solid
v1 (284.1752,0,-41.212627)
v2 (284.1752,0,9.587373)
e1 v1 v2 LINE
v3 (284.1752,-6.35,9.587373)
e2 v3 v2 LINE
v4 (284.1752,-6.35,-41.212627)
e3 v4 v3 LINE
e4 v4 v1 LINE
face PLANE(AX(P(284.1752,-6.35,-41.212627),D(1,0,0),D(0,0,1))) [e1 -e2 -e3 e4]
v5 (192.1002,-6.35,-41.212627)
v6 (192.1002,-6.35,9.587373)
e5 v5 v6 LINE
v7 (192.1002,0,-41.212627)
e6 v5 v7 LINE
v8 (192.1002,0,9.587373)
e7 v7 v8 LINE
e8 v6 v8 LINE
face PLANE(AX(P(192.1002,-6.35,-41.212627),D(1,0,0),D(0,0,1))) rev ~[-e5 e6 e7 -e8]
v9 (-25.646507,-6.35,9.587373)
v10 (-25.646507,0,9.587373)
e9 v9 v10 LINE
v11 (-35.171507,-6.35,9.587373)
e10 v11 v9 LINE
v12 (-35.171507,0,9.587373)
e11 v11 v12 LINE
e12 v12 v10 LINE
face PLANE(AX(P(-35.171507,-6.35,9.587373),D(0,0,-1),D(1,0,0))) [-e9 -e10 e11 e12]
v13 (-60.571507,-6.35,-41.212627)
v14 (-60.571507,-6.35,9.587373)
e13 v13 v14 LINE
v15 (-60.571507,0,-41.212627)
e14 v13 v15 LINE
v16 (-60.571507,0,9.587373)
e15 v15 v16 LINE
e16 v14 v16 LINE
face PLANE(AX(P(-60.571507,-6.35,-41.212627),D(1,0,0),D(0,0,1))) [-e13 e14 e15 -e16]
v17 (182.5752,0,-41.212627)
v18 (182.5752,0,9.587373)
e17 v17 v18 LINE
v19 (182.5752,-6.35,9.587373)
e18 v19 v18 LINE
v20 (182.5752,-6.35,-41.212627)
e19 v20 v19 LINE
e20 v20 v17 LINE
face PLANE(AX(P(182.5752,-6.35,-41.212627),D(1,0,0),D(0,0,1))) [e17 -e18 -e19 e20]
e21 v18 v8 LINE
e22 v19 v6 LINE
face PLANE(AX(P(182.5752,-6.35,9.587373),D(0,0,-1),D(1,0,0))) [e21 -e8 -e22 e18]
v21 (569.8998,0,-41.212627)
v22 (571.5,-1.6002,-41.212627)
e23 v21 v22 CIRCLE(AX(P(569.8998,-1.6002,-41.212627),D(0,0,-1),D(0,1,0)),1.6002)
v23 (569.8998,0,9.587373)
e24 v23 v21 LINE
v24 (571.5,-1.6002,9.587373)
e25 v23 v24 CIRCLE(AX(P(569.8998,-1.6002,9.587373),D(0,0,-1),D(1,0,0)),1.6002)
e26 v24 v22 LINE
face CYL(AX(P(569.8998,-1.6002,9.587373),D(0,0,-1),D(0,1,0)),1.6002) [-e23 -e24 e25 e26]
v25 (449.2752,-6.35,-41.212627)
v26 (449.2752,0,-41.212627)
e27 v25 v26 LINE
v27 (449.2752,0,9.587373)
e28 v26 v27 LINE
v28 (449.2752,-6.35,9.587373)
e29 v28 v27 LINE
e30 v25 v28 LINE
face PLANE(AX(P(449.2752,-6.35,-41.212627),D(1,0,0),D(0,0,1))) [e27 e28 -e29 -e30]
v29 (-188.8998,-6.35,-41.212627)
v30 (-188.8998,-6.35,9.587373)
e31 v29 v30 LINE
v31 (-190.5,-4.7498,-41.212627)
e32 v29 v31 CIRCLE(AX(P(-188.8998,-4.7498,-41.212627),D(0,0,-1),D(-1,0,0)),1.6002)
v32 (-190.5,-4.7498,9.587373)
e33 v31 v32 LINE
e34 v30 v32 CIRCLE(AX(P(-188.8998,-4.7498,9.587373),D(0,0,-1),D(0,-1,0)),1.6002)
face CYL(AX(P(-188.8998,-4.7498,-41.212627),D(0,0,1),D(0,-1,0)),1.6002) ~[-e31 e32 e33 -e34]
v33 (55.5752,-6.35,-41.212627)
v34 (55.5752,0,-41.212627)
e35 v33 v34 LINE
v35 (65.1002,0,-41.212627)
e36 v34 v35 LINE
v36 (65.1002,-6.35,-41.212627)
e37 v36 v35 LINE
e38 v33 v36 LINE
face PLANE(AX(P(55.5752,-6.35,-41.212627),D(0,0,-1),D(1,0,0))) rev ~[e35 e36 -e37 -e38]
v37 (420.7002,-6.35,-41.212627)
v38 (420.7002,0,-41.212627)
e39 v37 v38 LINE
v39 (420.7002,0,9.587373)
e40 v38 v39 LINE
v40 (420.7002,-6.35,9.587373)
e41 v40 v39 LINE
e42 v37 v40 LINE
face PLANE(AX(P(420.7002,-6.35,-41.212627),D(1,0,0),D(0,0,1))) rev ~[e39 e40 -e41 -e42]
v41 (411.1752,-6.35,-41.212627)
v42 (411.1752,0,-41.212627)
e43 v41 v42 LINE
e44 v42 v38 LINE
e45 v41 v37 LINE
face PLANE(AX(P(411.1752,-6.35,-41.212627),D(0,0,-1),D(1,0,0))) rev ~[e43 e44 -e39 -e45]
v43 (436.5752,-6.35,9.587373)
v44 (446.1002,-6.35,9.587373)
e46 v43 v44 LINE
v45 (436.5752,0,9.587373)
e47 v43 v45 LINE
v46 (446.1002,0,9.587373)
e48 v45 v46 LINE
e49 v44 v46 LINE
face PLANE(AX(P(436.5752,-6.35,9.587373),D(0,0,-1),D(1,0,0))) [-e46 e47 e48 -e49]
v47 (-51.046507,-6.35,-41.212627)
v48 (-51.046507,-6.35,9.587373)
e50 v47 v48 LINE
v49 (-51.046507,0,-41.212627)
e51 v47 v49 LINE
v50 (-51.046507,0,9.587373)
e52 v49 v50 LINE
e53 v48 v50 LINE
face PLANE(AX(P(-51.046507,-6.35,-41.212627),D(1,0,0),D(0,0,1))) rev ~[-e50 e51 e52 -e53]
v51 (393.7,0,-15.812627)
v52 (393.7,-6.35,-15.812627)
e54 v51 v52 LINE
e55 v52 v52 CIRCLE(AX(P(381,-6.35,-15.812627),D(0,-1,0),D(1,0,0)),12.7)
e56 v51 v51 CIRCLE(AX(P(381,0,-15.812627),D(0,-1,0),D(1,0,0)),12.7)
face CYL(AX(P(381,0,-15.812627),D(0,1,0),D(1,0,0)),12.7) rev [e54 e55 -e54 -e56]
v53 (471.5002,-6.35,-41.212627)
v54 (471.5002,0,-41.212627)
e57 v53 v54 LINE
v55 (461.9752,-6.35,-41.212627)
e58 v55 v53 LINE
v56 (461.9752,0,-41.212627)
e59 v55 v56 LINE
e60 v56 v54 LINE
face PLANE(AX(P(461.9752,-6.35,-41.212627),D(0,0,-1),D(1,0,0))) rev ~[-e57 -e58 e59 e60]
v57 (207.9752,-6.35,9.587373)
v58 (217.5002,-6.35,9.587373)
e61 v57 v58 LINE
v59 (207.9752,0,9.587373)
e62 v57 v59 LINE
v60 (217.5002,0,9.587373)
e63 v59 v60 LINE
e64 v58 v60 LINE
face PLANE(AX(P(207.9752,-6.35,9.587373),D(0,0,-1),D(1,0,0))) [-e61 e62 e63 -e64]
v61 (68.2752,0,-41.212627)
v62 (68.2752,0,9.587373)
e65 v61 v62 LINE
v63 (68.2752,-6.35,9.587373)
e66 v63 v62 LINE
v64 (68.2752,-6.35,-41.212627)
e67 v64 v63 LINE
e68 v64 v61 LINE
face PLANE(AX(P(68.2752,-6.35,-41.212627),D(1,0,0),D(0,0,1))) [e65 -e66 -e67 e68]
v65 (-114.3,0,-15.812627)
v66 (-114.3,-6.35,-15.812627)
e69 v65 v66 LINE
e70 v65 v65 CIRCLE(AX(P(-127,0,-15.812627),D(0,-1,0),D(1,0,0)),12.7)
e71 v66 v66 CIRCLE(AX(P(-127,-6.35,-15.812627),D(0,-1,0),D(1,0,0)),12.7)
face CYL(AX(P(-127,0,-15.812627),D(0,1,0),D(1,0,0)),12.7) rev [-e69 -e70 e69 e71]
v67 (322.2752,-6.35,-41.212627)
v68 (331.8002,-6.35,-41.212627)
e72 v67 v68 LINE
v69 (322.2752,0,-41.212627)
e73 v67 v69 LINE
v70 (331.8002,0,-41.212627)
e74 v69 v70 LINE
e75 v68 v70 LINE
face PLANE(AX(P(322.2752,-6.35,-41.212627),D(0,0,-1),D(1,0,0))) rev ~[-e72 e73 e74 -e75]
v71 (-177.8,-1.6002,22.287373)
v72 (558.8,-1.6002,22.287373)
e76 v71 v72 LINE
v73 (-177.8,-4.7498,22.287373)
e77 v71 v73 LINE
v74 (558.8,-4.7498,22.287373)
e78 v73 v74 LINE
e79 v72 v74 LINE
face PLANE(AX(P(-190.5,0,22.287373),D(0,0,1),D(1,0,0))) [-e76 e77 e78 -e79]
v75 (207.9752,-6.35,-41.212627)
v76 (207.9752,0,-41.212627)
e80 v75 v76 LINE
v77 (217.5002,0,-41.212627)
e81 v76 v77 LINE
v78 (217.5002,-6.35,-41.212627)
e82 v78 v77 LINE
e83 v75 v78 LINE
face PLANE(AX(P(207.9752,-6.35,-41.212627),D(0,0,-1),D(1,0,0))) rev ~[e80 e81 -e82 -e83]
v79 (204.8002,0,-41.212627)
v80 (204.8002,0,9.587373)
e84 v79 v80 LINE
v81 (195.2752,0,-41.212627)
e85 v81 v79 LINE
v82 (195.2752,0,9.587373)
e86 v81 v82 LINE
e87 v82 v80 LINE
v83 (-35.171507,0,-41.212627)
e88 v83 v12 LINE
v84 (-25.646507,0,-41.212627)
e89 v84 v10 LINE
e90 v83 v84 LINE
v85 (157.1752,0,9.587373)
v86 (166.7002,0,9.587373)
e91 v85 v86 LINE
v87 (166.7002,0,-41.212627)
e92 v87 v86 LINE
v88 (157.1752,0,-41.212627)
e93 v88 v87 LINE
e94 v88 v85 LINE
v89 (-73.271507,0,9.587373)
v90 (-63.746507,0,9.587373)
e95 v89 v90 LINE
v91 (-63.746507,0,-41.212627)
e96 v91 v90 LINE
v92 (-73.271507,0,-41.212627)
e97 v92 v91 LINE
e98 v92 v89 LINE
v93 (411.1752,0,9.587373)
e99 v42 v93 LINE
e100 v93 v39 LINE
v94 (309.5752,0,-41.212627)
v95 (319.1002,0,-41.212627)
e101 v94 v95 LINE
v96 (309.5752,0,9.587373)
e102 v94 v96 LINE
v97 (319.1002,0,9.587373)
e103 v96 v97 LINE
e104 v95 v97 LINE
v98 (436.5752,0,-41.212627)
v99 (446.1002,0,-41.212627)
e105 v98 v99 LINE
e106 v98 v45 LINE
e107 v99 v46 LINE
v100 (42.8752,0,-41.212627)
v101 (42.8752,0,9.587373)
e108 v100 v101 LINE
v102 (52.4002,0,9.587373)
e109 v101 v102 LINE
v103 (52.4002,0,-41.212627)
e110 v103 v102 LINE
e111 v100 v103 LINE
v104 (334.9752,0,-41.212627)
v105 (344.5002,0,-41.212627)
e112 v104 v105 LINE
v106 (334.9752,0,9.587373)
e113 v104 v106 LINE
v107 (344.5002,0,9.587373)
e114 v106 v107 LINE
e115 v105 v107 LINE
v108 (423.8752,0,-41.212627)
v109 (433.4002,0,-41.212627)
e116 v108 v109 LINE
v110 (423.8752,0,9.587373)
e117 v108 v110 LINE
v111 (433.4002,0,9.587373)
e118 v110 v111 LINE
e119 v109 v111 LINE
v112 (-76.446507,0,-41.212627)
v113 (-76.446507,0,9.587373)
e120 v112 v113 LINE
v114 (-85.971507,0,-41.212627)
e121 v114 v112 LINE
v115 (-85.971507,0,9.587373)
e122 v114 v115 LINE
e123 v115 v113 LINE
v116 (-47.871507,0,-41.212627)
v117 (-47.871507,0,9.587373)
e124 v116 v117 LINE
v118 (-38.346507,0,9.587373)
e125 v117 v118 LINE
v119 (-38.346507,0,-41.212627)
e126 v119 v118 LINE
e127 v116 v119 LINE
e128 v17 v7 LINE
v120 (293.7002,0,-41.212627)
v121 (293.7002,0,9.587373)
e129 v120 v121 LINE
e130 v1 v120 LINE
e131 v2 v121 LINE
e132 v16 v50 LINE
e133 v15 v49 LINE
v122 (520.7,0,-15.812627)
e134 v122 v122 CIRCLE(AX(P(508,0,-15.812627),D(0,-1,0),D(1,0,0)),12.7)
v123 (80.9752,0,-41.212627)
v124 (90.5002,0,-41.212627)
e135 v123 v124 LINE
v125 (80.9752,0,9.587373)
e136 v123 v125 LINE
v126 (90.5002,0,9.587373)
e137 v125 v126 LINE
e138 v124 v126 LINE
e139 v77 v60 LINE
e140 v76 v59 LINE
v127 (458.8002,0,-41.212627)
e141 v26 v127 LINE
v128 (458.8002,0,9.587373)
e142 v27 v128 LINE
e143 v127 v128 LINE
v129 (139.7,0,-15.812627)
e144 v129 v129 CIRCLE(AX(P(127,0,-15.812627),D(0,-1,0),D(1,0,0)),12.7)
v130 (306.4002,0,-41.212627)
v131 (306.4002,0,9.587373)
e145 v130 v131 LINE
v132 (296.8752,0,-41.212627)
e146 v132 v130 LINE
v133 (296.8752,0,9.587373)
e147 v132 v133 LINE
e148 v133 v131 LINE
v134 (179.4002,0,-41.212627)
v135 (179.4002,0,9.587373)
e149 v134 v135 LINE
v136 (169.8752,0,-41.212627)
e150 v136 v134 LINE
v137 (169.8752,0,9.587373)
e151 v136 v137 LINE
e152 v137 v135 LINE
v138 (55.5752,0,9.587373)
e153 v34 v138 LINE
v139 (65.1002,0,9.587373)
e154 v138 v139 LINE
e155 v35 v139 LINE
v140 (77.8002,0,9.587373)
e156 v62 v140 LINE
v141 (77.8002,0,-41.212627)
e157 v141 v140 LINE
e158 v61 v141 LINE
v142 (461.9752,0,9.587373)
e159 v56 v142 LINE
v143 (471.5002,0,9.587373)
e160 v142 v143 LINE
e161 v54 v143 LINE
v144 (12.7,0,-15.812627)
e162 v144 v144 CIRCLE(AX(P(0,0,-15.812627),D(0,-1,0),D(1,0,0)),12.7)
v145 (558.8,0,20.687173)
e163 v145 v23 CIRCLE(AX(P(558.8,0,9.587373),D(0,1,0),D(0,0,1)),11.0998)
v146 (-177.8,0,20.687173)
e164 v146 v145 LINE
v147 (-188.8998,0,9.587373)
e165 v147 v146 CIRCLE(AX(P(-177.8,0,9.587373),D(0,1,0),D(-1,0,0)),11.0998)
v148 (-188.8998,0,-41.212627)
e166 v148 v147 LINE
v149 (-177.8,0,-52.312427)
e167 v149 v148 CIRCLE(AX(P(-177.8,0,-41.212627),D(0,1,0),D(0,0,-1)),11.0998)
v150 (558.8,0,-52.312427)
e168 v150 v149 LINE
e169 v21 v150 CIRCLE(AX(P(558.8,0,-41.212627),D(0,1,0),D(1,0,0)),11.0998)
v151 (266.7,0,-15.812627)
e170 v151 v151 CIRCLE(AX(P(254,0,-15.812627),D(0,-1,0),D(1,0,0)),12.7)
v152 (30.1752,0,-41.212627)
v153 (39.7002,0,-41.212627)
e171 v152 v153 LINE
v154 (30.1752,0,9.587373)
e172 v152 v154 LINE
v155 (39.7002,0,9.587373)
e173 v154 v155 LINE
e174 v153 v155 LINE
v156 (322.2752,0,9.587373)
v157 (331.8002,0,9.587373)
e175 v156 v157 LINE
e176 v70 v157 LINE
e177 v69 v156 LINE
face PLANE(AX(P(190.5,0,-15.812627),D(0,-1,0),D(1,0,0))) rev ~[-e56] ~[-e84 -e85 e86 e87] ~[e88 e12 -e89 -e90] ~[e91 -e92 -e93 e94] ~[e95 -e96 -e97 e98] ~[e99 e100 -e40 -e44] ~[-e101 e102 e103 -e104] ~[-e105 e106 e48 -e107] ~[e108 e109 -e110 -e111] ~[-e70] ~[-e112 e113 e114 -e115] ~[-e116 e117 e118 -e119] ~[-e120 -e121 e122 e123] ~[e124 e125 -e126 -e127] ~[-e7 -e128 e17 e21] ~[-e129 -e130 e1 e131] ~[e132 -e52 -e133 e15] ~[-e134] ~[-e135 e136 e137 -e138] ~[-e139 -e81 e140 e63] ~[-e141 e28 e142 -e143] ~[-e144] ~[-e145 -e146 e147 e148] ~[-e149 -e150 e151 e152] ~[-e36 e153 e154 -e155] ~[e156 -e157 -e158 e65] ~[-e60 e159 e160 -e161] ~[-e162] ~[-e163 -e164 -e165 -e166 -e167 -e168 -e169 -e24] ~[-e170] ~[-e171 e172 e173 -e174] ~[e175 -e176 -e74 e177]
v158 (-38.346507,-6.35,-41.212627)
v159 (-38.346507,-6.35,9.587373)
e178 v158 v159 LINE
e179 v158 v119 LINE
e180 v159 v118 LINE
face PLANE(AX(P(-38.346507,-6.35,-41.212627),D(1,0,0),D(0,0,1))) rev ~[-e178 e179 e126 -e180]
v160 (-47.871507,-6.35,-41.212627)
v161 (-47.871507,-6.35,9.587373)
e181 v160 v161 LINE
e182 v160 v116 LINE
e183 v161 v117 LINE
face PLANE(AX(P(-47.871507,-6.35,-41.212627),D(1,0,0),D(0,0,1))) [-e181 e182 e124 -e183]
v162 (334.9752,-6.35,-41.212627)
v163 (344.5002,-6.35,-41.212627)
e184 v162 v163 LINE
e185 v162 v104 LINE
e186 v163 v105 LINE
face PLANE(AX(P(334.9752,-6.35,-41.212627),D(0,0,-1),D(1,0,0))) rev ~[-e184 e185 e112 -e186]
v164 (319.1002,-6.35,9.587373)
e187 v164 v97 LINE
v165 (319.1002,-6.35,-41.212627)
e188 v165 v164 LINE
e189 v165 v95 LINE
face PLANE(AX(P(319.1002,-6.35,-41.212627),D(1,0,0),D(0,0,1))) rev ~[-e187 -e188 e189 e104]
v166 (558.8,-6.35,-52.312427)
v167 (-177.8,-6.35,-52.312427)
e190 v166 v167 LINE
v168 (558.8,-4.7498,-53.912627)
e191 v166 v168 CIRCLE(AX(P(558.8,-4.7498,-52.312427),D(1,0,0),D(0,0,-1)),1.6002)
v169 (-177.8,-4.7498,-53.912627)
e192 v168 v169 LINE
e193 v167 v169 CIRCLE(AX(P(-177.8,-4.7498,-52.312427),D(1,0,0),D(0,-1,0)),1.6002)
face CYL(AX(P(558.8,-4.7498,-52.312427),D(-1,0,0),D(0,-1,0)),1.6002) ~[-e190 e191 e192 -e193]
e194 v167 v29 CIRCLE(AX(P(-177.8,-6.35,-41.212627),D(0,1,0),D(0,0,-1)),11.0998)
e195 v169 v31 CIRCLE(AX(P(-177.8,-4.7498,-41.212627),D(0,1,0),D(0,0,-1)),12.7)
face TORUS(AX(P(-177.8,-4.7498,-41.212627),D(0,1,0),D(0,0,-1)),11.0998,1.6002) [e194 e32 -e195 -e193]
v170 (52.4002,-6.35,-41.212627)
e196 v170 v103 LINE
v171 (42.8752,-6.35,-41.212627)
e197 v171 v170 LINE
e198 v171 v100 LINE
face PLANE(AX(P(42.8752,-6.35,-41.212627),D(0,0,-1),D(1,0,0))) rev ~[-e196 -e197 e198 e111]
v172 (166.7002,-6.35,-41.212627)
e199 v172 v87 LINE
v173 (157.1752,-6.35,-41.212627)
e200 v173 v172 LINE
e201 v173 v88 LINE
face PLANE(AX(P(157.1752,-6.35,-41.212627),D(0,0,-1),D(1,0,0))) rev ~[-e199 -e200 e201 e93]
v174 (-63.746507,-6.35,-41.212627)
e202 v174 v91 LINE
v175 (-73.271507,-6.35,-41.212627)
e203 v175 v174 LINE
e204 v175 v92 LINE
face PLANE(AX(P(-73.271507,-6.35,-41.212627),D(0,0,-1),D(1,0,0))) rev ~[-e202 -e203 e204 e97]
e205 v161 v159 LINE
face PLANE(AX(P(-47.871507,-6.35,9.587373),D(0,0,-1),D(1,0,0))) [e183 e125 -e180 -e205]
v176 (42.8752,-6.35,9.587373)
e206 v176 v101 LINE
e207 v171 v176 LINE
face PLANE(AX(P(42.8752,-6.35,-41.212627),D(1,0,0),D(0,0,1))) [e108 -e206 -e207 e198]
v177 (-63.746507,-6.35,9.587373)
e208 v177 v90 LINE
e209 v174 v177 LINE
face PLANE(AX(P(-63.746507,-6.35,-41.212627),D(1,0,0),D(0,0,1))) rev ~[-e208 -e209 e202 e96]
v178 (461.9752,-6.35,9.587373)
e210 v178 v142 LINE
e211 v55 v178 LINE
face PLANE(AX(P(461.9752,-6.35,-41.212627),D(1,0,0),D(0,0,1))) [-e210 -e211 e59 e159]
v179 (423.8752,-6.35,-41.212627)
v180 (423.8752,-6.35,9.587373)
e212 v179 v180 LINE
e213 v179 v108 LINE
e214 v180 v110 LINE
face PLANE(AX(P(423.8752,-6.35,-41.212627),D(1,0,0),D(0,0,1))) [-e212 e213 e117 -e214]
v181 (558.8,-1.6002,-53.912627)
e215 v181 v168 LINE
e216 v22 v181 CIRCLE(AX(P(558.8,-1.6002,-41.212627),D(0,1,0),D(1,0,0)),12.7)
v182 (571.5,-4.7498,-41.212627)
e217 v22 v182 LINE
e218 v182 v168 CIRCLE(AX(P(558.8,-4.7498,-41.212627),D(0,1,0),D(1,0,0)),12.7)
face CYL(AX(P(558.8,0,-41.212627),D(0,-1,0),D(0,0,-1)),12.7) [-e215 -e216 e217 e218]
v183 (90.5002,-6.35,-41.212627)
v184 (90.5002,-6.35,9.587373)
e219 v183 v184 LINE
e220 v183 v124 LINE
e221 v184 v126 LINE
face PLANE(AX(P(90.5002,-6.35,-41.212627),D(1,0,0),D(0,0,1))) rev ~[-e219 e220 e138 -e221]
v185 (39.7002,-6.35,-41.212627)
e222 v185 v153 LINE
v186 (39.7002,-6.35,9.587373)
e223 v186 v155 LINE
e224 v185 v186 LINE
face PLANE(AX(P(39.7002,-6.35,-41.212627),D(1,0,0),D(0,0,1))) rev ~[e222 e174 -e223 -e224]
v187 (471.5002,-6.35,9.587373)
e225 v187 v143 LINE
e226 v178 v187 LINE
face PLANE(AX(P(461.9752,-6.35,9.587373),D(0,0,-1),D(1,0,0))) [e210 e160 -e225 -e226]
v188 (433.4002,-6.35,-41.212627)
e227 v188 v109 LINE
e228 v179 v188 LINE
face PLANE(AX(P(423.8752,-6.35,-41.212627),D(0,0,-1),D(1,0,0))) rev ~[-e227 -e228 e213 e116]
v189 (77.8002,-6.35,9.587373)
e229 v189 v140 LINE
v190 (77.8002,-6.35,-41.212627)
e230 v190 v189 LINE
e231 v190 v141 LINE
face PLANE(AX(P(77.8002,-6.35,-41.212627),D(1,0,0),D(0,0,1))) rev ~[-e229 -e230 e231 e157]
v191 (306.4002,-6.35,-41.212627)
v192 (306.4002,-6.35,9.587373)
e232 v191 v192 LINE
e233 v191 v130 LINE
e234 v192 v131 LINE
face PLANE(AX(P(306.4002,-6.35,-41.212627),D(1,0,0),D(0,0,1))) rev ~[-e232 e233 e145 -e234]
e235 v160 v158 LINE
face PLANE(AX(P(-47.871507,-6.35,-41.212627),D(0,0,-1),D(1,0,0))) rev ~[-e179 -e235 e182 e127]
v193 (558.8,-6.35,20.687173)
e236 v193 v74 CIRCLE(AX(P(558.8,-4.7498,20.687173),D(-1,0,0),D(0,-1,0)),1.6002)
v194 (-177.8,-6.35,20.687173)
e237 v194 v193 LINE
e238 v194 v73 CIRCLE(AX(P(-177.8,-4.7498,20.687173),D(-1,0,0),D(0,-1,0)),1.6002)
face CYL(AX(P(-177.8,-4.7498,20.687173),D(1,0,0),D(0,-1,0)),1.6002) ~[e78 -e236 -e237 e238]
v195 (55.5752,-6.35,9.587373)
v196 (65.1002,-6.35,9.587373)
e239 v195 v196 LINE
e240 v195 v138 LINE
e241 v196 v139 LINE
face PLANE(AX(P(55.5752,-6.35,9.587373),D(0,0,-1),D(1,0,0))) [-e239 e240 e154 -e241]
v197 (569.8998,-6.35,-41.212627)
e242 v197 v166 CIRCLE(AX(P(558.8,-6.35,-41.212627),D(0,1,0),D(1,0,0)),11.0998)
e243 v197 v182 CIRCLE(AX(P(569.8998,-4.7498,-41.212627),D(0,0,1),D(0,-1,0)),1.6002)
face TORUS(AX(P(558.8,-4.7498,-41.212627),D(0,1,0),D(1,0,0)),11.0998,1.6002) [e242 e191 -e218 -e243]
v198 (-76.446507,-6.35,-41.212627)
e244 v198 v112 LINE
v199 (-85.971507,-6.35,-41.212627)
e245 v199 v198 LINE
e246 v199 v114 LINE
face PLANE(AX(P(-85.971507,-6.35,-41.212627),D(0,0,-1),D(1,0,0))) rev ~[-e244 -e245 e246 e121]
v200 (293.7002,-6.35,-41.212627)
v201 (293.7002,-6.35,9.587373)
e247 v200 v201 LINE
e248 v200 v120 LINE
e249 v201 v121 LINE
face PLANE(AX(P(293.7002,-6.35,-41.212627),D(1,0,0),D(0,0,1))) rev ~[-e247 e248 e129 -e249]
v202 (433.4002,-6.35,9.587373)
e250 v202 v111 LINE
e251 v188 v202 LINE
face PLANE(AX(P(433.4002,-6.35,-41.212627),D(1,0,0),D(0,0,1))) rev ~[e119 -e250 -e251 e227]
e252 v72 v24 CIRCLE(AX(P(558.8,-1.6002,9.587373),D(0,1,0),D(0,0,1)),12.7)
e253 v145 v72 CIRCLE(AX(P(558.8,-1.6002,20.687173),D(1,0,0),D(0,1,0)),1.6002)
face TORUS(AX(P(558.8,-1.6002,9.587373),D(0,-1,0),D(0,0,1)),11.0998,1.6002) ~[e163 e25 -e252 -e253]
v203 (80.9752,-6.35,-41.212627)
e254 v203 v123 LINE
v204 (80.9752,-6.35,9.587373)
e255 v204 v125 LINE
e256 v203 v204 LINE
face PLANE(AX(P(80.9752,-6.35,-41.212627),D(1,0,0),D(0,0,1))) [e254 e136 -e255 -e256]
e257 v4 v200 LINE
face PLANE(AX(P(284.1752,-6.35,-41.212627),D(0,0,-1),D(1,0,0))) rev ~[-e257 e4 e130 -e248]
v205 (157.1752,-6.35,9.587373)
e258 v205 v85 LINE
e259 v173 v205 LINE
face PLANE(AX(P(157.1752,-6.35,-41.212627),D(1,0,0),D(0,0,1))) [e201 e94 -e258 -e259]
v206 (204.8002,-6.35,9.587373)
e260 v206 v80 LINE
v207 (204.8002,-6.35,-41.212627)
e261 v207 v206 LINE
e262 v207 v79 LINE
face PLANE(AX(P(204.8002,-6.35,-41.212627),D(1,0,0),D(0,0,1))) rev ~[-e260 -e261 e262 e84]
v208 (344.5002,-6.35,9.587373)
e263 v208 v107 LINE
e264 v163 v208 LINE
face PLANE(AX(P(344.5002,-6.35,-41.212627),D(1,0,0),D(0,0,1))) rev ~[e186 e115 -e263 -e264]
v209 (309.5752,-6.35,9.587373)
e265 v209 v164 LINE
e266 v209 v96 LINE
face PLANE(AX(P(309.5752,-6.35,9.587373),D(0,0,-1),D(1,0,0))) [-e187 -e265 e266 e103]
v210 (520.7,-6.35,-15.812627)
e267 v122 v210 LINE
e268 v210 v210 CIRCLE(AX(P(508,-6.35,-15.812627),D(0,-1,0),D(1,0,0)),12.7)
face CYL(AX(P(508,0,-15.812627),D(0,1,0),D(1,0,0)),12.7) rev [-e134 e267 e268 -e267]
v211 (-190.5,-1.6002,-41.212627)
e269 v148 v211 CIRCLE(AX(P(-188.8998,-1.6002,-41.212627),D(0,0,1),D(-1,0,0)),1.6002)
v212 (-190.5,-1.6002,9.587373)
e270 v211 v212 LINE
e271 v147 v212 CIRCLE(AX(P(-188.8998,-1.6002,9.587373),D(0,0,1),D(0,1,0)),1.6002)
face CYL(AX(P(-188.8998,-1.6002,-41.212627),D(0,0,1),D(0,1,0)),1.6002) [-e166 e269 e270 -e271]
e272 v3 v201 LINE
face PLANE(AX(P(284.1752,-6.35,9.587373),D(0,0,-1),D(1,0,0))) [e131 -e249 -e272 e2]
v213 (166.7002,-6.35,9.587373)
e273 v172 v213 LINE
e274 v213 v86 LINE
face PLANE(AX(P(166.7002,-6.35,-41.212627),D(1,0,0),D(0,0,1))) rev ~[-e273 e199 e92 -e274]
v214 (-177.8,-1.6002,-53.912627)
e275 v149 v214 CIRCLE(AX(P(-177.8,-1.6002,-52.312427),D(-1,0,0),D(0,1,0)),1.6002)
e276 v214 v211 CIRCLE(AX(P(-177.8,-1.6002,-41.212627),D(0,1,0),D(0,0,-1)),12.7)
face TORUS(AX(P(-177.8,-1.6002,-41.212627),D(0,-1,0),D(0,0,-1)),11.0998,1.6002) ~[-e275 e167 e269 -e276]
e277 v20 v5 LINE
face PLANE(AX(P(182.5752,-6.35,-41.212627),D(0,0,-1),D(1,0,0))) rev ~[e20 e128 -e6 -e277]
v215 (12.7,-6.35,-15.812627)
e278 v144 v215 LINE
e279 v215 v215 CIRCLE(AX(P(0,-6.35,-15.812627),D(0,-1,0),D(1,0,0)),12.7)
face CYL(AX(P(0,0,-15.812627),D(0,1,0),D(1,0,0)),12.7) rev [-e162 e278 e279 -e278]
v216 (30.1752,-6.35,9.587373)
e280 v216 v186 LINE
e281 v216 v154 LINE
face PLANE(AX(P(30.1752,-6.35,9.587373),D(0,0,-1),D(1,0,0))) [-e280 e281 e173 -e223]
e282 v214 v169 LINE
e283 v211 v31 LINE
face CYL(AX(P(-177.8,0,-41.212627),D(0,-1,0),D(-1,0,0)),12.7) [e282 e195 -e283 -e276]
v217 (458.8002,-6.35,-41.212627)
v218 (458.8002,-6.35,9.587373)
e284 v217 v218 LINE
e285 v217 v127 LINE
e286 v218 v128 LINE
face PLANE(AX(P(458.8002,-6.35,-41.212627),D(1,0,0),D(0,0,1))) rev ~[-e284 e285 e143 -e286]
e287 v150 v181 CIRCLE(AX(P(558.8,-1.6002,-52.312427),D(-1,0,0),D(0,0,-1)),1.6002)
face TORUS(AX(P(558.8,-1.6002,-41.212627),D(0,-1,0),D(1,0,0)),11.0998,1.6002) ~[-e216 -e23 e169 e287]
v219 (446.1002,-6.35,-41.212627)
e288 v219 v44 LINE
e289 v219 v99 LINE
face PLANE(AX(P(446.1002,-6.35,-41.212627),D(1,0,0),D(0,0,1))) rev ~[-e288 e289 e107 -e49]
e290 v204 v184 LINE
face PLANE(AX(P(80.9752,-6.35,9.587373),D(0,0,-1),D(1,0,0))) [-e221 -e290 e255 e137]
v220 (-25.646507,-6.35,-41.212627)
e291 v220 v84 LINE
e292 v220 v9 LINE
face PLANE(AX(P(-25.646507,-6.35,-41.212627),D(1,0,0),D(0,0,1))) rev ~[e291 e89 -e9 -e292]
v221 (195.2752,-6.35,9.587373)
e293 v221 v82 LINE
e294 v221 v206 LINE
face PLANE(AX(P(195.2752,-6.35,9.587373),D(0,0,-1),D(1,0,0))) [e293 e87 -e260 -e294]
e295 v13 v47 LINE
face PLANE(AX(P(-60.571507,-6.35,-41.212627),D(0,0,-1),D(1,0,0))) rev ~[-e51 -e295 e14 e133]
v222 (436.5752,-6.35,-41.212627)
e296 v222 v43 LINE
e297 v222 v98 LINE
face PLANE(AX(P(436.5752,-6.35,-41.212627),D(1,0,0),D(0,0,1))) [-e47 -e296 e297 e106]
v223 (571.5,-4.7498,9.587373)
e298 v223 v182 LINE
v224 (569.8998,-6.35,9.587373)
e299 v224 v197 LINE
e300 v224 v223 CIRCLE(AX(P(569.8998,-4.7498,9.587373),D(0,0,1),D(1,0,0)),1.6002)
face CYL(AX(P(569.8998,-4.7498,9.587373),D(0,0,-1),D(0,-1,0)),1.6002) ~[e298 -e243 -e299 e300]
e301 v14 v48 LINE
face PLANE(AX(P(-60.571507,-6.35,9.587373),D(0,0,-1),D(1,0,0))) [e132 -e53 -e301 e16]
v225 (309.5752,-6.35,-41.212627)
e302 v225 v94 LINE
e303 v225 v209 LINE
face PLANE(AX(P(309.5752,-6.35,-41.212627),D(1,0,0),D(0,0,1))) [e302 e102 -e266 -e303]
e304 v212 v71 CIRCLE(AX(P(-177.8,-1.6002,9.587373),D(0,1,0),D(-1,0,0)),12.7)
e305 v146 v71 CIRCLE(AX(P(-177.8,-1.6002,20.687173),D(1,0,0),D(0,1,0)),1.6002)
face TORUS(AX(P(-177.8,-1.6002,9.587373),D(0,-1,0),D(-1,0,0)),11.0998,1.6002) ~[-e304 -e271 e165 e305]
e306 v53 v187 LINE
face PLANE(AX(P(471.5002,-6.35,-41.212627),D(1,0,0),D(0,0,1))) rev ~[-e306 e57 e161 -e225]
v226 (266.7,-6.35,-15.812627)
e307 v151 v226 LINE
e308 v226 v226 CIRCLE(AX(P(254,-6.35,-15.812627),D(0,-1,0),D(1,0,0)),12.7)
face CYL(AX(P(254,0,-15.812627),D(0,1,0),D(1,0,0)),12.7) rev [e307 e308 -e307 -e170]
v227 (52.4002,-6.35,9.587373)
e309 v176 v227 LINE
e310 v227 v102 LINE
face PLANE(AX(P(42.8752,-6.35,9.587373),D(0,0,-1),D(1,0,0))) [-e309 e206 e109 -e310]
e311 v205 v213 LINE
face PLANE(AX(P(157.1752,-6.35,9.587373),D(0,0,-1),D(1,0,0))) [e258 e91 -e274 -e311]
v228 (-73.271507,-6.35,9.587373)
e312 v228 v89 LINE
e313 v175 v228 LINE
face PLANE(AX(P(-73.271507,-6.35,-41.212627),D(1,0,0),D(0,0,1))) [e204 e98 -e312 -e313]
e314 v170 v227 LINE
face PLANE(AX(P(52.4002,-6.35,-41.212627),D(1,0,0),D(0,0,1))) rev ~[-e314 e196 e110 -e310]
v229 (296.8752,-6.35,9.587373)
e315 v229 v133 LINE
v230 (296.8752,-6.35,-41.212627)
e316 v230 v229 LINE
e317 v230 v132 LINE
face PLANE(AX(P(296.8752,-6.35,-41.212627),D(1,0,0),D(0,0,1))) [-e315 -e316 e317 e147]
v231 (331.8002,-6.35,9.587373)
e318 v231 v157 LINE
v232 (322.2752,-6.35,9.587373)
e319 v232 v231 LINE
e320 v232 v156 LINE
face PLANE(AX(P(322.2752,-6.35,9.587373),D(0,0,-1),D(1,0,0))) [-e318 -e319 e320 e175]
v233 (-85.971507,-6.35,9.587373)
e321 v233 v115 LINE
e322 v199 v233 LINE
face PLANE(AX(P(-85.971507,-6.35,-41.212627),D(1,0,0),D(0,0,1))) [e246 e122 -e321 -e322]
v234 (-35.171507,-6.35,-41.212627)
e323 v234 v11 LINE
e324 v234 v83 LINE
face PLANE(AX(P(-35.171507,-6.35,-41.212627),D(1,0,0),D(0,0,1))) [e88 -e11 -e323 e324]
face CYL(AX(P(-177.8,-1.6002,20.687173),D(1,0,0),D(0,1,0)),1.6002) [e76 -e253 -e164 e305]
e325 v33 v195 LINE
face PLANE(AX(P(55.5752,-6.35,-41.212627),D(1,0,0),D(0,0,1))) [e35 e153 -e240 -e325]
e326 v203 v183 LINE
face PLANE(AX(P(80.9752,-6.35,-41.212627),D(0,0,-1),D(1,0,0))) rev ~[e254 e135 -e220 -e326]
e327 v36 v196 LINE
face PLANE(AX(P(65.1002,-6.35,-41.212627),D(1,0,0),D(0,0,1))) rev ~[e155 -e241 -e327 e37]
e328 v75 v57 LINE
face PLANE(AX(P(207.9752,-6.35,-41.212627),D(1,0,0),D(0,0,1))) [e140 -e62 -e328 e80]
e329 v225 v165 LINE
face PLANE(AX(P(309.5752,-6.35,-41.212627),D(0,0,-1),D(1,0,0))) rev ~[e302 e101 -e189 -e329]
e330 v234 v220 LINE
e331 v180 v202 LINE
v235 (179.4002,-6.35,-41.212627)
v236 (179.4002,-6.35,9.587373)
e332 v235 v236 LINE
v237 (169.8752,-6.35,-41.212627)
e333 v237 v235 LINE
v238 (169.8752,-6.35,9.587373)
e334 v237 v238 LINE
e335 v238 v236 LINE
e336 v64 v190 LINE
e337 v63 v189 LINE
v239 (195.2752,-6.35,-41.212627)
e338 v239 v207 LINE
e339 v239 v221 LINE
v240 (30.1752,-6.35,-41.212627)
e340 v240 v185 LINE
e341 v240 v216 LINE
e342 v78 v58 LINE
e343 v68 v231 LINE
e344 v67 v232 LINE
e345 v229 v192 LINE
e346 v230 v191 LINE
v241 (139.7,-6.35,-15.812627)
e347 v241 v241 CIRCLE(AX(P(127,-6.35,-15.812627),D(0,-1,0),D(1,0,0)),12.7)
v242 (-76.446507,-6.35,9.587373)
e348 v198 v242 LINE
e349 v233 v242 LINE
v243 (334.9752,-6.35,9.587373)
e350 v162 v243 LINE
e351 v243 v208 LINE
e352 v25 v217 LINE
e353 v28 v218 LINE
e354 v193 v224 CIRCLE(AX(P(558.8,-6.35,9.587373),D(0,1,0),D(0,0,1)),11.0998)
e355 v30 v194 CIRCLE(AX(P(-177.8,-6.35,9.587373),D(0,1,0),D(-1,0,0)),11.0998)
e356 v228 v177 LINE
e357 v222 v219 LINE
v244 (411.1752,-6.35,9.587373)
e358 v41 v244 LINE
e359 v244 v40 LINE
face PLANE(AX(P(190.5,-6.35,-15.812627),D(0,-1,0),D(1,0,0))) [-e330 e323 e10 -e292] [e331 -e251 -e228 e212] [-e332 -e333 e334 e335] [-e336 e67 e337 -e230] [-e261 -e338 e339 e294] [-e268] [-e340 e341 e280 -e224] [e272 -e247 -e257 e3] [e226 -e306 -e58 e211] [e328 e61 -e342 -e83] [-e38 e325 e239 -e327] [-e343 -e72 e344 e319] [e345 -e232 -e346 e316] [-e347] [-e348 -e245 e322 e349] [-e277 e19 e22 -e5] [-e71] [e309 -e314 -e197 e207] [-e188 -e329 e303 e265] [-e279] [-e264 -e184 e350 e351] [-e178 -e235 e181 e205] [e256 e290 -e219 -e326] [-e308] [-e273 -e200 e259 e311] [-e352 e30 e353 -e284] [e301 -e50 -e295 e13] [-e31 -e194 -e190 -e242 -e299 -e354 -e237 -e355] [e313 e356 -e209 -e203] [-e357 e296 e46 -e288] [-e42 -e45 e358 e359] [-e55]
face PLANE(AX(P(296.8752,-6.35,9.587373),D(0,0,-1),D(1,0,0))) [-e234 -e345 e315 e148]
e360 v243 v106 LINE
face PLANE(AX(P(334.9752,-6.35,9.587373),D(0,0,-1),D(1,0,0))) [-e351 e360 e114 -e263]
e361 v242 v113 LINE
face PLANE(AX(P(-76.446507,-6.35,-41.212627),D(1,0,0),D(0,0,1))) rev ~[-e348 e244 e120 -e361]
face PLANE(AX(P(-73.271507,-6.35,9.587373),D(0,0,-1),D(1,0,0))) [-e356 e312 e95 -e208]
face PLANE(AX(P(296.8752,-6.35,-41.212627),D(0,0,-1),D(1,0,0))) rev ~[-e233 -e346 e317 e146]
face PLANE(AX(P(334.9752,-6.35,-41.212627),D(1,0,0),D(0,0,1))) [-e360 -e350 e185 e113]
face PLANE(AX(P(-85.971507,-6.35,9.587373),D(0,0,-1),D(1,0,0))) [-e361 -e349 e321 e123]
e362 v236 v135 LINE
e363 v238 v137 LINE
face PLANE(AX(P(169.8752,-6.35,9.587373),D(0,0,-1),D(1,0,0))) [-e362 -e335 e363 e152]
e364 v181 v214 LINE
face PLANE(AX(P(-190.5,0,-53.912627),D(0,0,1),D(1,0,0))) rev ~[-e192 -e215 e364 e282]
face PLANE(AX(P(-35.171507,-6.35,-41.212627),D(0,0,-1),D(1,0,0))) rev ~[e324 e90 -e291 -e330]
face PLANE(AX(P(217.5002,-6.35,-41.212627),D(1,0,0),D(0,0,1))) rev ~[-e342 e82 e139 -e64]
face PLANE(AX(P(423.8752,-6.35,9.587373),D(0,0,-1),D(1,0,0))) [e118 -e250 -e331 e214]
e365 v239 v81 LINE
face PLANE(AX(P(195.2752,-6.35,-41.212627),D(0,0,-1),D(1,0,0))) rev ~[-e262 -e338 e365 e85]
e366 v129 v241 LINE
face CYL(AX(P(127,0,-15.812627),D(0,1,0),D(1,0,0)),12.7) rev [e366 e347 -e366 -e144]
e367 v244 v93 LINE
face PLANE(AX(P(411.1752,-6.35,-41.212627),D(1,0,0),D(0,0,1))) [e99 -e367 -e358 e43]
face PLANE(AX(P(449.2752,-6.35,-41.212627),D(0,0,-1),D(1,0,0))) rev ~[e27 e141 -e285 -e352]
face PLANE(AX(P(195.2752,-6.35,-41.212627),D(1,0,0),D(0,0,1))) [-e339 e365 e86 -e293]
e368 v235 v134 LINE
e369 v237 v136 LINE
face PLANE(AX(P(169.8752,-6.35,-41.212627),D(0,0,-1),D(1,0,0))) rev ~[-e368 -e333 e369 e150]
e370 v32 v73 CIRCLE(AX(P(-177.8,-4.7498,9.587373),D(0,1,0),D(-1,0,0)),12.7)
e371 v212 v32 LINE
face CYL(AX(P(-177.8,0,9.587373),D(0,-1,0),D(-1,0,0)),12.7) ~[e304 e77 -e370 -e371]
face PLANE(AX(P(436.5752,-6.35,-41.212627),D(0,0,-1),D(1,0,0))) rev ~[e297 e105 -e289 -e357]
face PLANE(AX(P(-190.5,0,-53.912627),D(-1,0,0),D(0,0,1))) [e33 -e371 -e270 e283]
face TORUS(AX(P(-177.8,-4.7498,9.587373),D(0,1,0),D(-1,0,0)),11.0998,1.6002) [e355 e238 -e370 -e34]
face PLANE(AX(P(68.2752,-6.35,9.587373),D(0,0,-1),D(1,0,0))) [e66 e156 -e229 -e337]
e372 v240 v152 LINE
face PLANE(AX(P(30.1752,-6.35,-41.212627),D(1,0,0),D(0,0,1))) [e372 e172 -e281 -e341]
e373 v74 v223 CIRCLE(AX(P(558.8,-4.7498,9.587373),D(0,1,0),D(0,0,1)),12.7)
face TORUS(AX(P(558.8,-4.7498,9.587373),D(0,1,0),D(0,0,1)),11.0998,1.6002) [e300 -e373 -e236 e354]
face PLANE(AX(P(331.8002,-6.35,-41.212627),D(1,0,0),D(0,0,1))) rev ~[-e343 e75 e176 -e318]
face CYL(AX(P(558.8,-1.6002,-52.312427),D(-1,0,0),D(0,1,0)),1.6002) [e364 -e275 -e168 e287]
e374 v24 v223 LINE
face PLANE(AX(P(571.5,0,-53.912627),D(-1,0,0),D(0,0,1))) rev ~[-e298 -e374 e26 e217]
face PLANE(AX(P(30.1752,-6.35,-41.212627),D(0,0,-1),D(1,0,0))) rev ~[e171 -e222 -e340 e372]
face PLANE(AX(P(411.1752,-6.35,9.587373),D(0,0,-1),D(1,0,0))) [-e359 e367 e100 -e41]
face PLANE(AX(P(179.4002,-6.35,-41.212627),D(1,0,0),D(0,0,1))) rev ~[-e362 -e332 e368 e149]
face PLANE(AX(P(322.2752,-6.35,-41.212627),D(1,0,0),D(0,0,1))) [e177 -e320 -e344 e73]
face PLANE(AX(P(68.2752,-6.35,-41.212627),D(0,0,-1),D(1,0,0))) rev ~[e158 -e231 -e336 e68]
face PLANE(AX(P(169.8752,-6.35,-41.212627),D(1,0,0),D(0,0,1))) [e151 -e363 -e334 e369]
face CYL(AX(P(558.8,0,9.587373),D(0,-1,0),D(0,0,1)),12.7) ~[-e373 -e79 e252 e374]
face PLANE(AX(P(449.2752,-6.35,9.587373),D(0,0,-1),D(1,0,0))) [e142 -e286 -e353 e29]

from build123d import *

# Parameters (mm, degrees)
F0_W     = 762
F0_H     = 76.2
F0_R     = 12.7
F1_DEPTH = 6.35
F2_W     = 9.525
F2_H     = 50.8
F3_DEPTH = 25.4
F4_R     = 12.7
F5_R     = 1.6002


with BuildPart() as f1:
    # F0 (on Front) → F1 (new body)
    with BuildSketch(Plane.XZ):
        with Locations((190.5, -15.812627)):
            Rectangle(F0_W, F0_H)
        with Locations((-127, -15.812627)):
            Circle(F0_R, mode=Mode.SUBTRACT)
        with Locations((0, -15.812627)):
            Circle(F0_R, mode=Mode.SUBTRACT)
        with Locations((127, -15.812627)):
            Circle(F0_R, mode=Mode.SUBTRACT)
        with Locations((254, -15.812627)):
            Circle(F0_R, mode=Mode.SUBTRACT)
        with Locations((381, -15.812627)):
            Circle(F0_R, mode=Mode.SUBTRACT)
        with Locations((508, -15.812627)):
            Circle(F0_R, mode=Mode.SUBTRACT)
    extrude(amount=F1_DEPTH)

    # F2 (on face) → F3 (cut)
    with BuildSketch(Plane.XZ.offset(6.35)):
        with Locations((34.9377, -15.812627)):
            Rectangle(F2_W, F2_H)
        with Locations((47.6377, -15.812627)):
            Rectangle(F2_W, F2_H)
        with Locations((60.3377, -15.812627)):
            Rectangle(F2_W, F2_H)
        with Locations((73.0377, -15.812627)):
            Rectangle(F2_W, F2_H)
        with Locations((85.7377, -15.812627)):
            Rectangle(F2_W, F2_H)
        with Locations((161.9377, -15.812627)):
            Rectangle(F2_W, F2_H)
        with Locations((174.6377, -15.812627)):
            Rectangle(F2_W, F2_H)
        with Locations((187.3377, -15.812627)):
            Rectangle(F2_W, F2_H)
        with Locations((200.0377, -15.812627)):
            Rectangle(F2_W, F2_H)
        with Locations((212.7377, -15.812627)):
            Rectangle(F2_W, F2_H)
        with Locations((288.9377, -15.812627)):
            Rectangle(F2_W, F2_H)
        with Locations((301.6377, -15.812627)):
            Rectangle(F2_W, F2_H)
        with Locations((314.3377, -15.812627)):
            Rectangle(F2_W, F2_H)
        with Locations((327.0377, -15.812627)):
            Rectangle(F2_W, F2_H)
        with Locations((339.7377, -15.812627)):
            Rectangle(F2_W, F2_H)
        with Locations((415.9377, -15.812627)):
            Rectangle(F2_W, F2_H)
        with Locations((428.6377, -15.812627)):
            Rectangle(F2_W, F2_H)
        with Locations((441.3377, -15.812627)):
            Rectangle(F2_W, F2_H)
        with Locations((454.0377, -15.812627)):
            Rectangle(F2_W, F2_H)
        with Locations((466.7377, -15.812627)):
            Rectangle(F2_W, F2_H)
        with Locations((-81.209007, -15.812627)):
            Rectangle(F2_W, F2_H)
        with Locations((-68.509007, -15.812627)):
            Rectangle(F2_W, F2_H)
        with Locations((-55.809007, -15.812627)):
            Rectangle(F2_W, F2_H)
        with Locations((-43.109007, -15.812627)):
            Rectangle(F2_W, F2_H)
        with Locations((-30.409007, -15.812627)):
            Rectangle(F2_W, F2_H)
    extrude(amount=-F3_DEPTH, mode=Mode.SUBTRACT)

    # F4
    f4_edges = [f1.edges().sort_by_distance(p)[0] for p in [
        (-190.5, -3.175, 22.287373),
        (-190.5, -3.175, -53.912627),
        (571.5, -3.175, 22.287373),
        (571.5, -3.175, -53.912627),
    ]]
    fillet(f4_edges, radius=F4_R)

    # F5
    f5_edges = [f1.edges().sort_by_distance(p)[0] for p in [
        (190.5, -6.35, 22.287373),
        (190.5, 0, 22.287373),
    ]]
    fillet(f5_edges, radius=F5_R)


solid = f1.part
